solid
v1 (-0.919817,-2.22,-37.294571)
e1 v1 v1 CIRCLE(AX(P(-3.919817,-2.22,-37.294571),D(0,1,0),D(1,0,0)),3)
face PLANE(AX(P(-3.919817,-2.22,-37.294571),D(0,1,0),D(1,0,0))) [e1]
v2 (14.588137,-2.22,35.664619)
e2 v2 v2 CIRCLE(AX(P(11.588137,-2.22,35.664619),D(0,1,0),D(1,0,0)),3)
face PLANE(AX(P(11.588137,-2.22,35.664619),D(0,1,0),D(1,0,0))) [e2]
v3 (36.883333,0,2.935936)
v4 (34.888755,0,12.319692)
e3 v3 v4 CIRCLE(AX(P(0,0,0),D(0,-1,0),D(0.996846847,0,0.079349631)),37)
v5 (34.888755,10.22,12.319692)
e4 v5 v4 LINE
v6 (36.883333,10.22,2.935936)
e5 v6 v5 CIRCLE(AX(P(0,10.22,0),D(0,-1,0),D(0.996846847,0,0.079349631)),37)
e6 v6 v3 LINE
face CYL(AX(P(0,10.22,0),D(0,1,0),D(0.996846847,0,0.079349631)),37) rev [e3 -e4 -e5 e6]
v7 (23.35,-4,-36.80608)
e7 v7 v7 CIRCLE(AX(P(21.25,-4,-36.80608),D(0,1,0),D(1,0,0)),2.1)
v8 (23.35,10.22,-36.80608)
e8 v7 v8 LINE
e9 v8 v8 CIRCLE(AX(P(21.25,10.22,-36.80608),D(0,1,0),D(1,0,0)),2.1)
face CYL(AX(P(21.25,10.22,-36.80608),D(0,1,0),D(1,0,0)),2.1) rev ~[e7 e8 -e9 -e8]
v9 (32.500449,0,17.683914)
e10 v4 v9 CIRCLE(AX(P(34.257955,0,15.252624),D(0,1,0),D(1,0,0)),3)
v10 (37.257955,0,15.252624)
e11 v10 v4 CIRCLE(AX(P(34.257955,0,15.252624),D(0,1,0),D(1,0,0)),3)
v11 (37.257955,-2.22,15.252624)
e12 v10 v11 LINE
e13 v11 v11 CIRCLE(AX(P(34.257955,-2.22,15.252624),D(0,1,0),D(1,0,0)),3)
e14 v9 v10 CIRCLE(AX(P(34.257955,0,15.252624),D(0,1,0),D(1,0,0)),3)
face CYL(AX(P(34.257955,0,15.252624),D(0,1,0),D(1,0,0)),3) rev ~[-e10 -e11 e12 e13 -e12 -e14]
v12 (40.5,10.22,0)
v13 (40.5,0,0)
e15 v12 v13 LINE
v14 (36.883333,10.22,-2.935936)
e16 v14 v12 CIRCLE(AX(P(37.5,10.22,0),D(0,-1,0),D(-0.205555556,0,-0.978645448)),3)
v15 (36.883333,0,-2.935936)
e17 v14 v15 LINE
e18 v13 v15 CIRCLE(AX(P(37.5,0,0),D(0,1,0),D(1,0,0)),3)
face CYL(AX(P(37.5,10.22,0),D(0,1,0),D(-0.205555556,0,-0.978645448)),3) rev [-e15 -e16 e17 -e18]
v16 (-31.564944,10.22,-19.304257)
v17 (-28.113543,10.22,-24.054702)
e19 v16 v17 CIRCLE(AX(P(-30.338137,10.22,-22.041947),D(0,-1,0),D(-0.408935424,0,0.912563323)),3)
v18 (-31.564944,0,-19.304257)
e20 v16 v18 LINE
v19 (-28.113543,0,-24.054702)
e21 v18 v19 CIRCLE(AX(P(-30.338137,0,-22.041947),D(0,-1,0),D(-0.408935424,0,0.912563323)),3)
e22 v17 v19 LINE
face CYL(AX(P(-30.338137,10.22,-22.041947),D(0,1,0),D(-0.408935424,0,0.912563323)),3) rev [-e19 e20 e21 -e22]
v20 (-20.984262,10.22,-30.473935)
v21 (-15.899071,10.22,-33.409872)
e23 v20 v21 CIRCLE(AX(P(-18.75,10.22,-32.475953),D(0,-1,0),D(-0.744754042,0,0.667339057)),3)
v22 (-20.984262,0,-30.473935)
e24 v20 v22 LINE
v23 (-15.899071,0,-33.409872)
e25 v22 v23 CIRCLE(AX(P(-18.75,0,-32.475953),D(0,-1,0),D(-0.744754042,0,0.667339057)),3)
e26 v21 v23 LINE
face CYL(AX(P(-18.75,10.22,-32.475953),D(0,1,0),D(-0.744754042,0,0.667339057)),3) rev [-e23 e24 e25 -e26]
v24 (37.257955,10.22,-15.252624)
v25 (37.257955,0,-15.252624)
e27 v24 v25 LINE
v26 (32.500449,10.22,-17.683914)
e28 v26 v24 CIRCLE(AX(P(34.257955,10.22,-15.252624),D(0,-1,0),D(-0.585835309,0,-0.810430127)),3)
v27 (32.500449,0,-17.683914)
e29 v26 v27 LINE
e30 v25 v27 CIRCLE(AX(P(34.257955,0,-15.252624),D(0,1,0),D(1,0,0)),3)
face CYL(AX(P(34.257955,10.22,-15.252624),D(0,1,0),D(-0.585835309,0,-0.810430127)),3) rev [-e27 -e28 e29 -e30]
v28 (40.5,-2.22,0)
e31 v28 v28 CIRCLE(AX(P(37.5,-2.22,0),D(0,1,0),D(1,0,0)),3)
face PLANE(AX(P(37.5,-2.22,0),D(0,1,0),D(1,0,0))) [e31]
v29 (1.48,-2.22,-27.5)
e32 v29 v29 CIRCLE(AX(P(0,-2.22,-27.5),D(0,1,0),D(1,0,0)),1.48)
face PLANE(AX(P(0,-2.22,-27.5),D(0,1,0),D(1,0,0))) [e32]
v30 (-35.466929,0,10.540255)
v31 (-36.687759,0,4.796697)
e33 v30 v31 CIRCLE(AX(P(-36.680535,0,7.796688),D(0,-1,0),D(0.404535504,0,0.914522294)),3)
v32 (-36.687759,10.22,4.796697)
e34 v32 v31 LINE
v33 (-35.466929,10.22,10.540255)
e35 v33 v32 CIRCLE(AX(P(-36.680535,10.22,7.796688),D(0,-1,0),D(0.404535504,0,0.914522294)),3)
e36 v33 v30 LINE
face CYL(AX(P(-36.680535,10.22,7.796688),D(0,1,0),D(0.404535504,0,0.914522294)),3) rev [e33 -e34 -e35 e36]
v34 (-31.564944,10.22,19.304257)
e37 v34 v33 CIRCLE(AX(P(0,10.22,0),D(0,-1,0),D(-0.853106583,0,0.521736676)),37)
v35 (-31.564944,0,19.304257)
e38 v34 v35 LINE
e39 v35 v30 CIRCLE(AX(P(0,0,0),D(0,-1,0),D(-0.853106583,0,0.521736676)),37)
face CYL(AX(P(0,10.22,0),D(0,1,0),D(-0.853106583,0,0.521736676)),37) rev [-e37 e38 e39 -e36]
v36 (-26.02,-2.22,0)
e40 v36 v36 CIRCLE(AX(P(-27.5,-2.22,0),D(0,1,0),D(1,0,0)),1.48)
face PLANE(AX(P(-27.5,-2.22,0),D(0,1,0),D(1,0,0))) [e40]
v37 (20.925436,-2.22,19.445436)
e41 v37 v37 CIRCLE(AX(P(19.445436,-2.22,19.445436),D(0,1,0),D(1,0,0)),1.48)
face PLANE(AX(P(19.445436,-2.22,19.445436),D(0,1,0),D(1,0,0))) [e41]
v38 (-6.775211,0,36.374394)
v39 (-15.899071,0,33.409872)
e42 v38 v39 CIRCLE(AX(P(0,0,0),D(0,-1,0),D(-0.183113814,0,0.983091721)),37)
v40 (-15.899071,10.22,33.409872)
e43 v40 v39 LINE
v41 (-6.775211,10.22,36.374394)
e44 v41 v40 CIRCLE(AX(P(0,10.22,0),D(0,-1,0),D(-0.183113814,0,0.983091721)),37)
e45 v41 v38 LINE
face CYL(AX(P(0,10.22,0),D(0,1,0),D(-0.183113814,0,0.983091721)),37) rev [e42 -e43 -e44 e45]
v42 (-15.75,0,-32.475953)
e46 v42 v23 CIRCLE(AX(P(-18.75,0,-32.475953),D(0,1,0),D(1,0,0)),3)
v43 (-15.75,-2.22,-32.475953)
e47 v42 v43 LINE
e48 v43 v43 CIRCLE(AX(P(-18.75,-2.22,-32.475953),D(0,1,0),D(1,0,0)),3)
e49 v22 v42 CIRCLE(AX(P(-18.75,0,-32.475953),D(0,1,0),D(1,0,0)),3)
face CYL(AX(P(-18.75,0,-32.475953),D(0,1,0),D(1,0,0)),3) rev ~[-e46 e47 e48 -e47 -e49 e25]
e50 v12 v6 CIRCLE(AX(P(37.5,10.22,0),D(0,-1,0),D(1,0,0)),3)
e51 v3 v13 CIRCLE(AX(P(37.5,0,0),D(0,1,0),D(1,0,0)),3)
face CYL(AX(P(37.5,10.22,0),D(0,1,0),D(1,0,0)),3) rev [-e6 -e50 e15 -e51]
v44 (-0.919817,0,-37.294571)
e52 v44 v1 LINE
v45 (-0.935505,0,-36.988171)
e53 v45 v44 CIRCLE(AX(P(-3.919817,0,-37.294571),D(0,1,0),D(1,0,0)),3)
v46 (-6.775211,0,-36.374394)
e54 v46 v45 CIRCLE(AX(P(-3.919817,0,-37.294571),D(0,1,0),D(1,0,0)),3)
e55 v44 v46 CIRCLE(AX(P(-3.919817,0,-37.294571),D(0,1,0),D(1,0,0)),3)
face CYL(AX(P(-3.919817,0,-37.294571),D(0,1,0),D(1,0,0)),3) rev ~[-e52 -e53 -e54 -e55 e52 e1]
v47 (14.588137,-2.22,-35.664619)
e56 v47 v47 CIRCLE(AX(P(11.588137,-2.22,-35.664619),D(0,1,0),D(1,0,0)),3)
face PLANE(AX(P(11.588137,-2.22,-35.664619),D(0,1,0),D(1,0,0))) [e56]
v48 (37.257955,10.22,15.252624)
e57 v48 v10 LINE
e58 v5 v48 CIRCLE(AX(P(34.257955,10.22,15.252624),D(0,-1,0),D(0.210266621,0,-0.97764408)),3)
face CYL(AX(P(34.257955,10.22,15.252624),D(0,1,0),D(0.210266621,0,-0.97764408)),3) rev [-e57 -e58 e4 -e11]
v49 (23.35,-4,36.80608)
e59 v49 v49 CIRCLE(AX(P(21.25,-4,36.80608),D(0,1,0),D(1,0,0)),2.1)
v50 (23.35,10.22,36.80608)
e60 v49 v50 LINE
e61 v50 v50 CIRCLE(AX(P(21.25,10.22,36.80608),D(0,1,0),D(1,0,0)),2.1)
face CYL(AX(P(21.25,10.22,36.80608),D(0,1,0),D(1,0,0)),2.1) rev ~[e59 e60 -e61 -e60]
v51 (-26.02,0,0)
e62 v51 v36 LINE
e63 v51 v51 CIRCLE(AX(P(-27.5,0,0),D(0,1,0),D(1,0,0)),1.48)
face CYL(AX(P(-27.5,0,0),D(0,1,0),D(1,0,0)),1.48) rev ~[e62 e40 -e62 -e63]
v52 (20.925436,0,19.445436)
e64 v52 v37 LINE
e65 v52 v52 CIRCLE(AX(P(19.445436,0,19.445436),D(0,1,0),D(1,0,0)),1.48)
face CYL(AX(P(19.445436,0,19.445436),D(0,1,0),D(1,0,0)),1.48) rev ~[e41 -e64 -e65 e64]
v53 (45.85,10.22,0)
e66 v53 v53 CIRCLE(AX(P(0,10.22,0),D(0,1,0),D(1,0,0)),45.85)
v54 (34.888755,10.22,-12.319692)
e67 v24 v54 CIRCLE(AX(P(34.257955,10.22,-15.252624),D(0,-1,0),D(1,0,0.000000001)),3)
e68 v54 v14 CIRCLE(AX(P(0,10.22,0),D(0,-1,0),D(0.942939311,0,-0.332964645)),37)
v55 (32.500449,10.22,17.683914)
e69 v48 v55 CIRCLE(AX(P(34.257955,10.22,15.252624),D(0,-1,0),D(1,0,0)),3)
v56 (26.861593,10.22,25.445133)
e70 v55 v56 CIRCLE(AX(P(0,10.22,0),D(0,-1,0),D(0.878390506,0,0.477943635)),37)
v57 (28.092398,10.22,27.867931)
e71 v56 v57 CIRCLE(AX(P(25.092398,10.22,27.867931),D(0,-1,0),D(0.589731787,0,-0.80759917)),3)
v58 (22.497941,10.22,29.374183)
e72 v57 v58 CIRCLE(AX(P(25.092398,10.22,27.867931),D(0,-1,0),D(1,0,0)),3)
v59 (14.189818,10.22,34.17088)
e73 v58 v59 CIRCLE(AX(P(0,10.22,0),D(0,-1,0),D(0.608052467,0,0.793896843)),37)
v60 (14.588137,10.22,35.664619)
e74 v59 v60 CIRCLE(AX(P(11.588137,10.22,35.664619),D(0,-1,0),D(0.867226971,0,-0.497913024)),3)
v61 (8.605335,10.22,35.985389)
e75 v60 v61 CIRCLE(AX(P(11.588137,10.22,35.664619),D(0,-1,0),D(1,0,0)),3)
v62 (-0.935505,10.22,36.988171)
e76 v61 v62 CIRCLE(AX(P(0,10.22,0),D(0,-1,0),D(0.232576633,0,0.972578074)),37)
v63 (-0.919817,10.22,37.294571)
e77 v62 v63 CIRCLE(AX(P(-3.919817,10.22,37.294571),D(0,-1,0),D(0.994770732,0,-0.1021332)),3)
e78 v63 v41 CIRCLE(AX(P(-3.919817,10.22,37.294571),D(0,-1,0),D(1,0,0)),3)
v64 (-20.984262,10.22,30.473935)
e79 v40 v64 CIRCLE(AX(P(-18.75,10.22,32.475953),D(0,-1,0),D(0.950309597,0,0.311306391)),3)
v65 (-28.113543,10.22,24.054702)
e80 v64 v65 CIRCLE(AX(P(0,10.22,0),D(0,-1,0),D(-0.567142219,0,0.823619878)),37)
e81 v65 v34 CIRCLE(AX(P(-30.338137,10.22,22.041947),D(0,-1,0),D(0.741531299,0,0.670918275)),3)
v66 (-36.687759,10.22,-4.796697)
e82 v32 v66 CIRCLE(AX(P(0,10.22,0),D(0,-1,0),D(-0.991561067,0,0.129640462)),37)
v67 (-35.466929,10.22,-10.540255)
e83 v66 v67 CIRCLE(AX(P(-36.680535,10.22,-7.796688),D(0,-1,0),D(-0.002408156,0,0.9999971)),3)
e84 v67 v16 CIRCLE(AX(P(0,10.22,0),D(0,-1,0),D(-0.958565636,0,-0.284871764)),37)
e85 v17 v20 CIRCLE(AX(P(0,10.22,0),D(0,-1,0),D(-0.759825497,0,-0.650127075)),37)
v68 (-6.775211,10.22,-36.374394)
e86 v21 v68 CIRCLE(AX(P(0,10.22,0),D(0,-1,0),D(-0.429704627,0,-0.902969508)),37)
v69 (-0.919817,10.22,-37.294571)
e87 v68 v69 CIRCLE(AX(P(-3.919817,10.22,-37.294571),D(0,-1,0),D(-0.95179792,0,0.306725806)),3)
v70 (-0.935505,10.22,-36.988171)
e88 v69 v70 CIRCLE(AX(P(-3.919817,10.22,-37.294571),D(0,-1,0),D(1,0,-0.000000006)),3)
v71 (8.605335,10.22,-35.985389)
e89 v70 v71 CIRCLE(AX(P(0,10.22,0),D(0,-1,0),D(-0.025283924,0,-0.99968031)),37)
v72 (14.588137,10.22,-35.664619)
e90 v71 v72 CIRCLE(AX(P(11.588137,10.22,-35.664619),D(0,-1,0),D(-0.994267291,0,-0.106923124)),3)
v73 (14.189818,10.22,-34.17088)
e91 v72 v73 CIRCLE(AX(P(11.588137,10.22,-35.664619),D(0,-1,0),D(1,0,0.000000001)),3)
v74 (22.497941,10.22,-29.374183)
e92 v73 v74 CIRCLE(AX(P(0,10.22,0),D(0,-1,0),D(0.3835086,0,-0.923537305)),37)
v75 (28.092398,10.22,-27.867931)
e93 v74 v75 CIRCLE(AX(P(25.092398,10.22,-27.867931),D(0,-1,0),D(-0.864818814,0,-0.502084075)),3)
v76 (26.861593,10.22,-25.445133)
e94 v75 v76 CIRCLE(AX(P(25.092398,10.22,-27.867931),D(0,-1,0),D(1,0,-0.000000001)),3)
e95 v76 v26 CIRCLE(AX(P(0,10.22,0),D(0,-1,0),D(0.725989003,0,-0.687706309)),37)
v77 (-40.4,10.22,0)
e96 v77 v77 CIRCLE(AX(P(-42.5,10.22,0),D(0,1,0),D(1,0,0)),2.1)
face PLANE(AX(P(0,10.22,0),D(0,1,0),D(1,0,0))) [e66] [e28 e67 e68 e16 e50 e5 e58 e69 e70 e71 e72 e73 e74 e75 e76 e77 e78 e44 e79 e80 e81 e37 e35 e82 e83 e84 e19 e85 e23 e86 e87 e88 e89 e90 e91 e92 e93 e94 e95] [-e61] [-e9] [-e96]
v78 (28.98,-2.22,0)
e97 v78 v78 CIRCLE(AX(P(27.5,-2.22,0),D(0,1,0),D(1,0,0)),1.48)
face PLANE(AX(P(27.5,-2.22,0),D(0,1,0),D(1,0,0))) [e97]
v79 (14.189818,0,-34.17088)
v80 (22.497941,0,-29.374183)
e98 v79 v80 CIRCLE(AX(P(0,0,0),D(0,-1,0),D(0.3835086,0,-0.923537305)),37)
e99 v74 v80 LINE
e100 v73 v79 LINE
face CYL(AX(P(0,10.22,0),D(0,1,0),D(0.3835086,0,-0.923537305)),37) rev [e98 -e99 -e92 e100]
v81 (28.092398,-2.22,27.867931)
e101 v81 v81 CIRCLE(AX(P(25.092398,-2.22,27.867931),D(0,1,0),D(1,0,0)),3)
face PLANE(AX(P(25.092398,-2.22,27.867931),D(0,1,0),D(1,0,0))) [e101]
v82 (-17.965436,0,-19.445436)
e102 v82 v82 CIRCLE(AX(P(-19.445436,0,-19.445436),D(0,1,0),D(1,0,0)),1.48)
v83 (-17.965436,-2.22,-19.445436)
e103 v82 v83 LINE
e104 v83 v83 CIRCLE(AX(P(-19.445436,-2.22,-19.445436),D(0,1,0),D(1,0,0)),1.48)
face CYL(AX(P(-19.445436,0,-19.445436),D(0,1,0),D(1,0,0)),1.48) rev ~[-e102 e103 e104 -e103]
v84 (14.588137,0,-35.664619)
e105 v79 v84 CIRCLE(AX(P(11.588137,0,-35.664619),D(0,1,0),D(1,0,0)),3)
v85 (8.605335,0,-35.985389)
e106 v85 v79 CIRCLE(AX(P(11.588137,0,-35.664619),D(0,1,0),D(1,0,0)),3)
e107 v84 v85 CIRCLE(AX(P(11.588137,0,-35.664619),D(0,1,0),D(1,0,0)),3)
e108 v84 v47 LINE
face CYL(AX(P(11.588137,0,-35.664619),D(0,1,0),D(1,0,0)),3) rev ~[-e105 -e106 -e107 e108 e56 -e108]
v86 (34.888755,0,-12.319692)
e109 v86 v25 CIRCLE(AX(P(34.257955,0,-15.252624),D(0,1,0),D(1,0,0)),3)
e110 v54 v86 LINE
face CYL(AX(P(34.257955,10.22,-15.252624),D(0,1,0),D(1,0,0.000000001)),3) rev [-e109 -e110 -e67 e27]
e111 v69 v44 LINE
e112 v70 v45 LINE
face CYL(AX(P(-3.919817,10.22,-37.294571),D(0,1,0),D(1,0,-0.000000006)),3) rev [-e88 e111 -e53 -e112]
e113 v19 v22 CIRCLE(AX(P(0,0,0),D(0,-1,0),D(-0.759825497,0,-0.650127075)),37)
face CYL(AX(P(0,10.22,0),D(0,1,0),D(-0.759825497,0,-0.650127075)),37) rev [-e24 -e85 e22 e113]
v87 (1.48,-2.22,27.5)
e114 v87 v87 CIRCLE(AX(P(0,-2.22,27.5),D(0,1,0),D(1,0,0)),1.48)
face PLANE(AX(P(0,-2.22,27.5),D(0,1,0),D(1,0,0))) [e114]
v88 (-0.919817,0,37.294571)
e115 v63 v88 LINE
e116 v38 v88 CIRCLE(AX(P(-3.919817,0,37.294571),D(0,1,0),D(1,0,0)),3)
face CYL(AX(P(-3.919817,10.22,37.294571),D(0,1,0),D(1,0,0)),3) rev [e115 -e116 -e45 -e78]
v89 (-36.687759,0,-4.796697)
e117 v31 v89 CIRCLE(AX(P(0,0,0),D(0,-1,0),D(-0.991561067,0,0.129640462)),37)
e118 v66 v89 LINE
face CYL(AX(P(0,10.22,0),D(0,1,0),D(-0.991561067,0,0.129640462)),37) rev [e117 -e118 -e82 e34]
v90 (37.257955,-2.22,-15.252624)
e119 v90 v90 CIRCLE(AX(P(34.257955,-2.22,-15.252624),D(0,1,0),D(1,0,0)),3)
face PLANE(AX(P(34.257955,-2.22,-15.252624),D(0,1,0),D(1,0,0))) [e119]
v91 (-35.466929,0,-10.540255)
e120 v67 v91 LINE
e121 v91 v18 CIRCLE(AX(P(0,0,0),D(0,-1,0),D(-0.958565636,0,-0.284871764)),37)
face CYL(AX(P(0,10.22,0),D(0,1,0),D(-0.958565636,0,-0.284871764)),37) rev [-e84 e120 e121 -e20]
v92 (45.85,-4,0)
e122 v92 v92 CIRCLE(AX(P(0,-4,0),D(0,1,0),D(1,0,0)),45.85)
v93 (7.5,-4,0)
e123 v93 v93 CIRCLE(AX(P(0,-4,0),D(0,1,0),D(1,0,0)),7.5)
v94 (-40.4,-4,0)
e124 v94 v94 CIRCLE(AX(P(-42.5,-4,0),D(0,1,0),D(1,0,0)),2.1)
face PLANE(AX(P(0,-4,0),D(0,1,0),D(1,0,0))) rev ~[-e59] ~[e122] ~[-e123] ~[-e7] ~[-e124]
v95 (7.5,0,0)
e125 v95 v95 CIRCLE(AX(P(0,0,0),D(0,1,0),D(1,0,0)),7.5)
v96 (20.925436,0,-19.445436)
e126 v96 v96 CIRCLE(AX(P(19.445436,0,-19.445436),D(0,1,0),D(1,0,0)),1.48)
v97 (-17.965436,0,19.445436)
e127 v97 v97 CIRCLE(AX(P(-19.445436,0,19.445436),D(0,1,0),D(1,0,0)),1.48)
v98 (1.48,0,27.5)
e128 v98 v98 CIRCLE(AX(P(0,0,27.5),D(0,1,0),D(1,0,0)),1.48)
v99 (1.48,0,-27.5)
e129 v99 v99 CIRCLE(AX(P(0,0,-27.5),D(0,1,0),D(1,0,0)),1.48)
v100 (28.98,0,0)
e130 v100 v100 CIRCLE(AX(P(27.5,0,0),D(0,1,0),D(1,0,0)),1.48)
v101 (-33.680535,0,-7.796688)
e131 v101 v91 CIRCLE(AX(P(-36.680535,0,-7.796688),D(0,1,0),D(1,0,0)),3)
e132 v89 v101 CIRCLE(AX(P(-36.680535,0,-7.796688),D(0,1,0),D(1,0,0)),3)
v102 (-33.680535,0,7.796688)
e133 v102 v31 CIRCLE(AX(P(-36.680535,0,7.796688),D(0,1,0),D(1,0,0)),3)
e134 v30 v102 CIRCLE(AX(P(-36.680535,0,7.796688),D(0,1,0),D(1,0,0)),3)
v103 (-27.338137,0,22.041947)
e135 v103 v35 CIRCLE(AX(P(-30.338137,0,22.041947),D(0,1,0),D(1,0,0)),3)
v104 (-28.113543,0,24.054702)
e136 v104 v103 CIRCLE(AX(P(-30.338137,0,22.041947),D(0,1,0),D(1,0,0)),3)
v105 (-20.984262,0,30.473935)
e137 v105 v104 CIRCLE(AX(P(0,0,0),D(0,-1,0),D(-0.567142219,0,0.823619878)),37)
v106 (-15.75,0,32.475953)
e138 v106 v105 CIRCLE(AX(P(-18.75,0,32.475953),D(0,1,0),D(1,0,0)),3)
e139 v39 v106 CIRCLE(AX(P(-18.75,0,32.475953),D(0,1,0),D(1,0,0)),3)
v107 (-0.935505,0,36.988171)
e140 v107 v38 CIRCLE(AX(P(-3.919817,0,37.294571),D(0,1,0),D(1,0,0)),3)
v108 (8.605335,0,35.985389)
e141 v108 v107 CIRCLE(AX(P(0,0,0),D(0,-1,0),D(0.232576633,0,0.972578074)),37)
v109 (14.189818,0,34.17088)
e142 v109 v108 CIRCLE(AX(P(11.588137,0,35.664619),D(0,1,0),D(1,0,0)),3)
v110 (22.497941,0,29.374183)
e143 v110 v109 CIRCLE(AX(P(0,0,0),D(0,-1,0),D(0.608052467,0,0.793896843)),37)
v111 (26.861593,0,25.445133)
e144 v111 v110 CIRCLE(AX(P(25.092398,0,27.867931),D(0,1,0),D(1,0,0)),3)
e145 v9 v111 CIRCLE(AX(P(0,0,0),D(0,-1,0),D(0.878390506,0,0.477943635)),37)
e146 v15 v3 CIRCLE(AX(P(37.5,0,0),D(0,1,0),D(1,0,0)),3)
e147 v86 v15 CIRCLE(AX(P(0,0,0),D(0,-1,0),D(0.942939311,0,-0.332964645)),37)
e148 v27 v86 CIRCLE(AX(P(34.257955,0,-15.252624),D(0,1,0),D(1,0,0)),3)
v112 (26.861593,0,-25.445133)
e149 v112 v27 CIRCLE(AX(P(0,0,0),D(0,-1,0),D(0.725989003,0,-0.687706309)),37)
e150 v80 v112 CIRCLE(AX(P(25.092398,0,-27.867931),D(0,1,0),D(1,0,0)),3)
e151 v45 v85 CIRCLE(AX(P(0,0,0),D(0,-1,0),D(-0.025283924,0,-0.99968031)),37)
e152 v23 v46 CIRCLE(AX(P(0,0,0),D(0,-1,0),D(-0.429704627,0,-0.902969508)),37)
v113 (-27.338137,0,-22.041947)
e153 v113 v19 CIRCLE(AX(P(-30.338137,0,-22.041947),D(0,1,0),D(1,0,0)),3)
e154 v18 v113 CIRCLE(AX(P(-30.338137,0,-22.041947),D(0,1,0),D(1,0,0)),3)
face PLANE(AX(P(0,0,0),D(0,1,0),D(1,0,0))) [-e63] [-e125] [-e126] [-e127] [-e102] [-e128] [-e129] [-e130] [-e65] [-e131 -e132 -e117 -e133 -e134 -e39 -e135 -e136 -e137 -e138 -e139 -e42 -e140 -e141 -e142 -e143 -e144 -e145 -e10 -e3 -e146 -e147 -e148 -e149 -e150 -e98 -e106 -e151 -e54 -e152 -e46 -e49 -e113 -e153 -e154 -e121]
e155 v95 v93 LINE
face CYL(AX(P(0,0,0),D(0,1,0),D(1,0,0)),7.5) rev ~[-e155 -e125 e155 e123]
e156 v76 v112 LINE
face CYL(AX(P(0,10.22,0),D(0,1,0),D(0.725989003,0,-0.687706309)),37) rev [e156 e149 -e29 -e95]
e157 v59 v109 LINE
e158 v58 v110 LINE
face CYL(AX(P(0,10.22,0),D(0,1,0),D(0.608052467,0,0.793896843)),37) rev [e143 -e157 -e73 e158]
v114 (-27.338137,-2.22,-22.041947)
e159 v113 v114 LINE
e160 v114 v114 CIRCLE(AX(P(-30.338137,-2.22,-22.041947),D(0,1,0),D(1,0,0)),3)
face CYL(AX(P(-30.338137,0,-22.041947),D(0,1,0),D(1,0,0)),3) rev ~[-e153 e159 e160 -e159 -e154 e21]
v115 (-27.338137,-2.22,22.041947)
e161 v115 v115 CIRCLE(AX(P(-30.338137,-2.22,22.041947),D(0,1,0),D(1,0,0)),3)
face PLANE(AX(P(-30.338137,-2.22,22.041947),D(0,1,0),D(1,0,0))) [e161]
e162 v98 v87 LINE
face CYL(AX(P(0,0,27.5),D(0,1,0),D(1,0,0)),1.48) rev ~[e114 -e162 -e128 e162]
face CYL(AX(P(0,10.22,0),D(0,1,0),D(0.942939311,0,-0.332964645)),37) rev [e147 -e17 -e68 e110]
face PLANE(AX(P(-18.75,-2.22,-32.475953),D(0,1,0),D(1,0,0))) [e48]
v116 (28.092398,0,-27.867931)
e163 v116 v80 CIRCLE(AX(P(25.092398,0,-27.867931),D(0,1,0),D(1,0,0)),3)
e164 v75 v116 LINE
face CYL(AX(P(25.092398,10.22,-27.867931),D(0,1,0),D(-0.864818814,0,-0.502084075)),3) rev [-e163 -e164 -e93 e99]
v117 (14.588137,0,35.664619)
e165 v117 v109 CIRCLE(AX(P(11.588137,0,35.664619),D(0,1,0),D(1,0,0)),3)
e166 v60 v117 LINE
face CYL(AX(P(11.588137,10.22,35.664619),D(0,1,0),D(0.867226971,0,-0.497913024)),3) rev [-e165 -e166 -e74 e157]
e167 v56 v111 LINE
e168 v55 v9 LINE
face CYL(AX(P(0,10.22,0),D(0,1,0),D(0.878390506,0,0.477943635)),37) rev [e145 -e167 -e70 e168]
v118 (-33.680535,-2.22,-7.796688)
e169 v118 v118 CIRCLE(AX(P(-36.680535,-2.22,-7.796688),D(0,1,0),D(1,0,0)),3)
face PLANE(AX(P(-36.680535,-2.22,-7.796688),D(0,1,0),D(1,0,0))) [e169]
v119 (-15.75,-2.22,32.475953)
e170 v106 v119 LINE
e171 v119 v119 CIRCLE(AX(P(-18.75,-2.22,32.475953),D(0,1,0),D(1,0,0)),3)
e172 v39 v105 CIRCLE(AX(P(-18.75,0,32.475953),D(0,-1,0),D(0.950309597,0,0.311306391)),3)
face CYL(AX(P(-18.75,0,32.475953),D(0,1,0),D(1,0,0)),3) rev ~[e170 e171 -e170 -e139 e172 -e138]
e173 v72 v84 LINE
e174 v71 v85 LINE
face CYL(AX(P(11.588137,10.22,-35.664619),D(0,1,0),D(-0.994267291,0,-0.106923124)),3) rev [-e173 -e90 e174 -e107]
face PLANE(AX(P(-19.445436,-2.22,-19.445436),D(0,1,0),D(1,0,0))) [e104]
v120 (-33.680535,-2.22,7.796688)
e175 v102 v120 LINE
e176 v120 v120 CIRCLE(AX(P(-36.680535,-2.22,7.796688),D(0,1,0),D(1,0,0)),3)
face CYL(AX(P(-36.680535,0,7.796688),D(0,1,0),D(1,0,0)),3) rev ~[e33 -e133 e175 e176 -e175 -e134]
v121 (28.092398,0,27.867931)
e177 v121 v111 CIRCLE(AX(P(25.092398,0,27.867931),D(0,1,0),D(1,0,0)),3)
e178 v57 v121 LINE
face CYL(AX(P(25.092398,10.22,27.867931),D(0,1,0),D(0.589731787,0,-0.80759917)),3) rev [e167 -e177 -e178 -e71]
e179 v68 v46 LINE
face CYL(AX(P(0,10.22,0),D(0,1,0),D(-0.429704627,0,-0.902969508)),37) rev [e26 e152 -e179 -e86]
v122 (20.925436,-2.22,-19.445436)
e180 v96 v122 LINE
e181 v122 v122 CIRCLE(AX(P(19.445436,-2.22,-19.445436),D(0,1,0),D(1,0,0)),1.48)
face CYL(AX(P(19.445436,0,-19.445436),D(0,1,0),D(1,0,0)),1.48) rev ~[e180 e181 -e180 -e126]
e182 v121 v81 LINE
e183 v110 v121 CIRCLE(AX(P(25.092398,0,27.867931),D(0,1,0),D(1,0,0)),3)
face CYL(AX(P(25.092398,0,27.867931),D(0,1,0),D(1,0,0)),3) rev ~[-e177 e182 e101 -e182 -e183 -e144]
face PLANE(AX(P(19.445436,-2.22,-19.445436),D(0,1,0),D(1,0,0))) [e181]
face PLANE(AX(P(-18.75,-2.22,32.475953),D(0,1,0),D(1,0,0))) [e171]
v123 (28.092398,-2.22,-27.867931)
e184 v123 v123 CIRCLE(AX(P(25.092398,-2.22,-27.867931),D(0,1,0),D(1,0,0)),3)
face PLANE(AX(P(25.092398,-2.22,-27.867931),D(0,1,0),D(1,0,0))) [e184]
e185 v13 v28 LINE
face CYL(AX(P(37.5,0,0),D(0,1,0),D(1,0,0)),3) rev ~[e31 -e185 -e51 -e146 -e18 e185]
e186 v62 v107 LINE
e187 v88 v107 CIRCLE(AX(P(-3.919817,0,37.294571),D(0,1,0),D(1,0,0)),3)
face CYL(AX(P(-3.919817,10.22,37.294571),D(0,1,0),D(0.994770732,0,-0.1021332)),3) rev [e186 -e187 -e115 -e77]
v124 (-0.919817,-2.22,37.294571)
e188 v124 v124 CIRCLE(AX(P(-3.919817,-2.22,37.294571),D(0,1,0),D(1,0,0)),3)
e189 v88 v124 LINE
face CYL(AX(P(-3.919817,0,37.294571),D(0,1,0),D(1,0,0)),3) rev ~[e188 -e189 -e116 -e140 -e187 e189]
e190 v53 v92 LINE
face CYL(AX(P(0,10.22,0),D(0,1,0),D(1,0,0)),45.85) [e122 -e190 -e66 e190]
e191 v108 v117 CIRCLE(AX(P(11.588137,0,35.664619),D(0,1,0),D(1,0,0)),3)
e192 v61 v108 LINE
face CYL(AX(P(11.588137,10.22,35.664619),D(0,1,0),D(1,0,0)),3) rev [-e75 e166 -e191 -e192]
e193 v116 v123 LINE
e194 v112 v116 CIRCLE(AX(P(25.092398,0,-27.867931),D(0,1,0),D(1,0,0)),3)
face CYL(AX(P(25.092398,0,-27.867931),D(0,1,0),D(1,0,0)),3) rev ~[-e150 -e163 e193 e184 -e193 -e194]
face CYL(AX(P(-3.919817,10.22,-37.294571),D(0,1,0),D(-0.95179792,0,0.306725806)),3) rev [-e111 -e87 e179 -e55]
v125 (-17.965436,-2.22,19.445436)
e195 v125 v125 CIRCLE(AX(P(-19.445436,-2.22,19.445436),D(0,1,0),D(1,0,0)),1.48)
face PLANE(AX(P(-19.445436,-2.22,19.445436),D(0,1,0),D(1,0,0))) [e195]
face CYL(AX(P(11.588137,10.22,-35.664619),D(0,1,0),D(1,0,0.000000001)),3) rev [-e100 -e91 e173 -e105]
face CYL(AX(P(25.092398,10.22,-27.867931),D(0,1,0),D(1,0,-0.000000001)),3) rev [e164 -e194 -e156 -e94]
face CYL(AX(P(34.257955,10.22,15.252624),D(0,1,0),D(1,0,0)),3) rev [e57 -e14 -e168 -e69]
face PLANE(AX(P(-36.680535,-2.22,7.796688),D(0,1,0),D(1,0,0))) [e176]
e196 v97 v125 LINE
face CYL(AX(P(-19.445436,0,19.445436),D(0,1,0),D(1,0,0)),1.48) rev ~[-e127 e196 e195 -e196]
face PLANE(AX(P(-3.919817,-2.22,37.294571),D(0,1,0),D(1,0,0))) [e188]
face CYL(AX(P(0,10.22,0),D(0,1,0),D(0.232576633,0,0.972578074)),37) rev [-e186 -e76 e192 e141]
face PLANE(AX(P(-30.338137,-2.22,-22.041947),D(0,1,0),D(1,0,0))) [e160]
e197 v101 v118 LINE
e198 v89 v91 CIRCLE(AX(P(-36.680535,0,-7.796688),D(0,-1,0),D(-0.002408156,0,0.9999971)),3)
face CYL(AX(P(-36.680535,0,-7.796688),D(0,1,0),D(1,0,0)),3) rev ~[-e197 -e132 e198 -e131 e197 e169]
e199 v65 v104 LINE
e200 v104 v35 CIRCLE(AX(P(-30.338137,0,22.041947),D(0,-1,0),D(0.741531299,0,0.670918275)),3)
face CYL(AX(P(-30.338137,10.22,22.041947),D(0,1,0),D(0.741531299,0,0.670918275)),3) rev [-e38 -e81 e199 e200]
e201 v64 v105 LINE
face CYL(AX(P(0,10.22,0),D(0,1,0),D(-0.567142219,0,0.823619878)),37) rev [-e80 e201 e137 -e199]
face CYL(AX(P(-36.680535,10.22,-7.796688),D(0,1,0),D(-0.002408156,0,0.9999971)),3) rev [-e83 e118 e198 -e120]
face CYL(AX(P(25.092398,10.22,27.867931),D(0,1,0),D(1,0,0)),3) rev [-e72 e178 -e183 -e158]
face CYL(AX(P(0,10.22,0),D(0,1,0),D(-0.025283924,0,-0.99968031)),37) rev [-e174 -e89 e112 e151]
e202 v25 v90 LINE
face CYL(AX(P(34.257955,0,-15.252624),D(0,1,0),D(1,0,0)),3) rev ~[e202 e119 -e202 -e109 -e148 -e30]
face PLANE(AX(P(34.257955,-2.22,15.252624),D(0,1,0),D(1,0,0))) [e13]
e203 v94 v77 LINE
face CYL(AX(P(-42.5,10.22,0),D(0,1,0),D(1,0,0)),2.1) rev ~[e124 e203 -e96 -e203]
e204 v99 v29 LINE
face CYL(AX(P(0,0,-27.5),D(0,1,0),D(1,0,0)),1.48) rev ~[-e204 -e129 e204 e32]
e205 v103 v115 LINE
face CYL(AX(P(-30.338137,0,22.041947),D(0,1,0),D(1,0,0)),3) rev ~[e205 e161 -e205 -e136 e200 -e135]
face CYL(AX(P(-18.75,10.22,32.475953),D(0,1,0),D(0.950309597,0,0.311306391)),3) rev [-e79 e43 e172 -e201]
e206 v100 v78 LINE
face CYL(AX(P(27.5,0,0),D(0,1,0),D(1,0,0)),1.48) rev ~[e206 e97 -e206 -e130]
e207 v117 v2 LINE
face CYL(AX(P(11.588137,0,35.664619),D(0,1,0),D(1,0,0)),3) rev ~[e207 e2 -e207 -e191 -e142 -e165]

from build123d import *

# Parameters (mm, degrees)
SKETCH1_R           = 45.85
SKETCH1_R_2         = 2.1
SKETCH1_R_3         = 7.5
BOSS_EXTRUDE1_DEPTH = 4
SKETCH1_6_R         = 3
SKETCH1_6_R_2       = 1.48
CUT_EXTRUDE1_DEPTH  = 2.22
BOSS_EXTRUDE2_START = 10.22
SKETCH1_7_R         = 45.85
SKETCH1_7_R_2       = 2.1
BOSS_EXTRUDE2_DEPTH = 10.22


with BuildPart() as part:
    # Sketch1 → Boss-Extrude1 (new body)
    with BuildSketch(Plane(origin=(0, 0, 0), x_dir=(1, 0, 0), z_dir=(0, 1, 0))):
        Circle(SKETCH1_R)
        with Locations((-42.5, 0)):
            Circle(SKETCH1_R_2, mode=Mode.SUBTRACT)
        with Locations((21.25, -36.806079661)):
            Circle(SKETCH1_R_2, mode=Mode.SUBTRACT)
        with Locations((21.25, 36.806079661)):
            Circle(SKETCH1_R_2, mode=Mode.SUBTRACT)
        Circle(SKETCH1_R_3, mode=Mode.SUBTRACT)
    extrude(amount=-BOSS_EXTRUDE1_DEPTH)

    # Sketch1<6> → Cut-Extrude1 (cut)
    with BuildSketch(Plane(origin=(0, 0, 0), x_dir=(1, 0, 0), z_dir=(0, 1, 0))):
        with Locations((37.5, 0)):
            Circle(SKETCH1_6_R)
        with Locations((34.257954662, 15.252624115)):
            Circle(SKETCH1_6_R)
        with Locations((34.257954662, -15.252624115)):
            Circle(SKETCH1_6_R)
        with Locations((25.092397738, 27.867930955)):
            Circle(SKETCH1_6_R)
        with Locations((25.092397738, -27.867930955)):
            Circle(SKETCH1_6_R)
        with Locations((11.588137289, 35.664619361)):
            Circle(SKETCH1_6_R)
        with Locations((11.588137289, -35.664619361)):
            Circle(SKETCH1_6_R)
        with Locations((-3.919817373, 37.294571076)):
            Circle(SKETCH1_6_R)
        with Locations((-3.919817373, -37.294571076)):
            Circle(SKETCH1_6_R)
        with Locations((-18.75, 32.475952642)):
            Circle(SKETCH1_6_R)
        with Locations((-18.75, -32.475952642)):
            Circle(SKETCH1_6_R)
        with Locations((-30.338137289, 22.041946961)):
            Circle(SKETCH1_6_R)
        with Locations((-30.338137289, -22.041946961)):
            Circle(SKETCH1_6_R)
        with Locations((-36.680535028, 7.796688406)):
            Circle(SKETCH1_6_R)
        with Locations((-36.680535028, -7.796688406)):
            Circle(SKETCH1_6_R)
        with Locations((27.5, 0)):
            Circle(SKETCH1_6_R_2)
        with Locations((19.445436483, -19.445436483)):
            Circle(SKETCH1_6_R_2)
        with Locations((0, -27.5)):
            Circle(SKETCH1_6_R_2)
        with Locations((-19.445436483, -19.445436483)):
            Circle(SKETCH1_6_R_2)
        with Locations((-27.5, 0)):
            Circle(SKETCH1_6_R_2)
        with Locations((-19.445436483, 19.445436483)):
            Circle(SKETCH1_6_R_2)
        with Locations((0, 27.5)):
            Circle(SKETCH1_6_R_2)
        with Locations((19.445436483, 19.445436483)):
            Circle(SKETCH1_6_R_2)
    extrude(amount=-CUT_EXTRUDE1_DEPTH, mode=Mode.SUBTRACT)

    # Sketch1<7> → Boss-Extrude2 (add)
    with BuildSketch(Plane(origin=(0, 0, 0), x_dir=(1, 0, 0), z_dir=(0, 1, 0)).offset(BOSS_EXTRUDE2_START)):
        Circle(SKETCH1_7_R)
        with Locations((-42.5, 0)):
            Circle(SKETCH1_7_R_2, mode=Mode.SUBTRACT)
        with Locations((21.25, -36.806079661)):
            Circle(SKETCH1_7_R_2, mode=Mode.SUBTRACT)
        with BuildLine():
            ThreePointArc((36.883333333, 2.935936345), (39.39076704, 2.32916294), (40.5, 0))
            ThreePointArc((40.5, 0), (39.39076704, -2.32916294), (36.883333333, -2.935936345))
            ThreePointArc((36.883333333, -2.935936345), (36.191461227, -7.69273256), (34.888754523, -12.319691873))
            ThreePointArc((34.888754523, -12.319691873), (36.59166411, -13.367471546), (37.257954662, -15.252624115))
            ThreePointArc((37.257954662, -15.252624115), (35.6231437, -17.924001829), (32.500448736, -17.683914497))
            ThreePointArc((32.500448736, -17.683914497), (29.933628792, -21.748054335), (26.861593101, -25.445133446))
            ThreePointArc((26.861593101, -25.445133446), (27.767055295, -26.50917897), (28.092397738, -27.867930955))
            ThreePointArc((28.092397738, -27.867930955), (25.872343464, -30.764771418), (22.497941295, -29.37418318))
            ThreePointArc((22.497941295, -29.37418318), (18.5, -32.04293994), (14.189818202, -34.170880284))
            ThreePointArc((14.189818202, -34.170880284), (14.486847583, -34.891651942), (14.588137289, -35.664619361))
            ThreePointArc((14.588137289, -35.664619361), (11.748752331, -38.660316744), (8.605335417, -35.985388734))
            ThreePointArc((8.605335417, -35.985388734), (3.867553141, -36.797310129), (-0.935505175, -36.988171489))
            ThreePointArc((-0.935505175, -36.988171489), (-0.92374189, -37.141170608), (-0.919817373, -37.294571076))
            ThreePointArc((-0.919817373, -37.294571076), (-4.385552663, -40.258199029), (-6.775211132, -36.37439366))
            ThreePointArc((-6.775211132, -36.37439366), (-11.433628792, -35.189091103), (-15.899071208, -33.409871815))
            ThreePointArc((-15.899071208, -33.409871815), (-20.25, -35.074028853), (-20.984262125, -30.47393547))
            ThreePointArc((-20.984262125, -30.47393547), (-24.757832435, -27.496358543), (-28.113543391, -24.054701786))
            ThreePointArc((-28.113543391, -24.054701786), (-32.765188272, -23.805302718), (-31.564943561, -19.304256991))
            ThreePointArc((-31.564943561, -19.304256991), (-33.801181933, -15.049255794), (-35.466928517, -10.540255288))
            ThreePointArc((-35.466928517, -10.540255288), (-39.61497783, -8.420423478), (-36.687759497, -4.796697105))
            ThreePointArc((-36.687759497, -4.796697105), (-37, 0), (-36.687759497, 4.796697105))
            ThreePointArc((-36.687759497, 4.796697105), (-39.61497783, 8.420423478), (-35.466928517, 10.540255288))
            ThreePointArc((-35.466928517, 10.540255288), (-33.801181933, 15.049255794), (-31.564943561, 19.304256991))
            ThreePointArc((-31.564943561, 19.304256991), (-32.765188272, 23.805302718), (-28.113543391, 24.054701786))
            ThreePointArc((-28.113543391, 24.054701786), (-24.757832435, 27.496358543), (-20.984262125, 30.47393547))
            ThreePointArc((-20.984262125, 30.47393547), (-20.25, 35.074028853), (-15.899071208, 33.409871815))
            ThreePointArc((-15.899071208, 33.409871815), (-11.433628792, 35.189091103), (-6.775211132, 36.37439366))
            ThreePointArc((-6.775211132, 36.37439366), (-4.385552663, 40.258199029), (-0.919817373, 37.294571076))
            ThreePointArc((-0.919817373, 37.294571076), (-0.92374189, 37.141170608), (-0.935505175, 36.988171489))
            ThreePointArc((-0.935505175, 36.988171489), (3.867553141, 36.797310129), (8.605335417, 35.985388734))
            ThreePointArc((8.605335417, 35.985388734), (11.748752331, 38.660316744), (14.588137289, 35.664619361))
            ThreePointArc((14.588137289, 35.664619361), (14.486847583, 34.891651942), (14.189818202, 34.170880284))
            ThreePointArc((14.189818202, 34.170880284), (18.5, 32.04293994), (22.497941295, 29.37418318))
            ThreePointArc((22.497941295, 29.37418318), (25.872343464, 30.764771418), (28.092397738, 27.867930955))
            ThreePointArc((28.092397738, 27.867930955), (27.767055295, 26.50917897), (26.861593101, 25.445133446))
            ThreePointArc((26.861593101, 25.445133446), (29.933628792, 21.748054335), (32.500448736, 17.683914497))
            ThreePointArc((32.500448736, 17.683914497), (35.6231437, 17.924001829), (37.257954662, 15.252624115))
            ThreePointArc((37.257954662, 15.252624115), (36.59166411, 13.367471546), (34.888754523, 12.319691873))
            ThreePointArc((34.888754523, 12.319691873), (36.191461227, 7.69273256), (36.883333333, 2.935936345))
        make_face(mode=Mode.SUBTRACT)
        with Locations((21.25, 36.806079661)):
            Circle(SKETCH1_7_R_2, mode=Mode.SUBTRACT)
    extrude(amount=-BOSS_EXTRUDE2_DEPTH)


solid = part.part
